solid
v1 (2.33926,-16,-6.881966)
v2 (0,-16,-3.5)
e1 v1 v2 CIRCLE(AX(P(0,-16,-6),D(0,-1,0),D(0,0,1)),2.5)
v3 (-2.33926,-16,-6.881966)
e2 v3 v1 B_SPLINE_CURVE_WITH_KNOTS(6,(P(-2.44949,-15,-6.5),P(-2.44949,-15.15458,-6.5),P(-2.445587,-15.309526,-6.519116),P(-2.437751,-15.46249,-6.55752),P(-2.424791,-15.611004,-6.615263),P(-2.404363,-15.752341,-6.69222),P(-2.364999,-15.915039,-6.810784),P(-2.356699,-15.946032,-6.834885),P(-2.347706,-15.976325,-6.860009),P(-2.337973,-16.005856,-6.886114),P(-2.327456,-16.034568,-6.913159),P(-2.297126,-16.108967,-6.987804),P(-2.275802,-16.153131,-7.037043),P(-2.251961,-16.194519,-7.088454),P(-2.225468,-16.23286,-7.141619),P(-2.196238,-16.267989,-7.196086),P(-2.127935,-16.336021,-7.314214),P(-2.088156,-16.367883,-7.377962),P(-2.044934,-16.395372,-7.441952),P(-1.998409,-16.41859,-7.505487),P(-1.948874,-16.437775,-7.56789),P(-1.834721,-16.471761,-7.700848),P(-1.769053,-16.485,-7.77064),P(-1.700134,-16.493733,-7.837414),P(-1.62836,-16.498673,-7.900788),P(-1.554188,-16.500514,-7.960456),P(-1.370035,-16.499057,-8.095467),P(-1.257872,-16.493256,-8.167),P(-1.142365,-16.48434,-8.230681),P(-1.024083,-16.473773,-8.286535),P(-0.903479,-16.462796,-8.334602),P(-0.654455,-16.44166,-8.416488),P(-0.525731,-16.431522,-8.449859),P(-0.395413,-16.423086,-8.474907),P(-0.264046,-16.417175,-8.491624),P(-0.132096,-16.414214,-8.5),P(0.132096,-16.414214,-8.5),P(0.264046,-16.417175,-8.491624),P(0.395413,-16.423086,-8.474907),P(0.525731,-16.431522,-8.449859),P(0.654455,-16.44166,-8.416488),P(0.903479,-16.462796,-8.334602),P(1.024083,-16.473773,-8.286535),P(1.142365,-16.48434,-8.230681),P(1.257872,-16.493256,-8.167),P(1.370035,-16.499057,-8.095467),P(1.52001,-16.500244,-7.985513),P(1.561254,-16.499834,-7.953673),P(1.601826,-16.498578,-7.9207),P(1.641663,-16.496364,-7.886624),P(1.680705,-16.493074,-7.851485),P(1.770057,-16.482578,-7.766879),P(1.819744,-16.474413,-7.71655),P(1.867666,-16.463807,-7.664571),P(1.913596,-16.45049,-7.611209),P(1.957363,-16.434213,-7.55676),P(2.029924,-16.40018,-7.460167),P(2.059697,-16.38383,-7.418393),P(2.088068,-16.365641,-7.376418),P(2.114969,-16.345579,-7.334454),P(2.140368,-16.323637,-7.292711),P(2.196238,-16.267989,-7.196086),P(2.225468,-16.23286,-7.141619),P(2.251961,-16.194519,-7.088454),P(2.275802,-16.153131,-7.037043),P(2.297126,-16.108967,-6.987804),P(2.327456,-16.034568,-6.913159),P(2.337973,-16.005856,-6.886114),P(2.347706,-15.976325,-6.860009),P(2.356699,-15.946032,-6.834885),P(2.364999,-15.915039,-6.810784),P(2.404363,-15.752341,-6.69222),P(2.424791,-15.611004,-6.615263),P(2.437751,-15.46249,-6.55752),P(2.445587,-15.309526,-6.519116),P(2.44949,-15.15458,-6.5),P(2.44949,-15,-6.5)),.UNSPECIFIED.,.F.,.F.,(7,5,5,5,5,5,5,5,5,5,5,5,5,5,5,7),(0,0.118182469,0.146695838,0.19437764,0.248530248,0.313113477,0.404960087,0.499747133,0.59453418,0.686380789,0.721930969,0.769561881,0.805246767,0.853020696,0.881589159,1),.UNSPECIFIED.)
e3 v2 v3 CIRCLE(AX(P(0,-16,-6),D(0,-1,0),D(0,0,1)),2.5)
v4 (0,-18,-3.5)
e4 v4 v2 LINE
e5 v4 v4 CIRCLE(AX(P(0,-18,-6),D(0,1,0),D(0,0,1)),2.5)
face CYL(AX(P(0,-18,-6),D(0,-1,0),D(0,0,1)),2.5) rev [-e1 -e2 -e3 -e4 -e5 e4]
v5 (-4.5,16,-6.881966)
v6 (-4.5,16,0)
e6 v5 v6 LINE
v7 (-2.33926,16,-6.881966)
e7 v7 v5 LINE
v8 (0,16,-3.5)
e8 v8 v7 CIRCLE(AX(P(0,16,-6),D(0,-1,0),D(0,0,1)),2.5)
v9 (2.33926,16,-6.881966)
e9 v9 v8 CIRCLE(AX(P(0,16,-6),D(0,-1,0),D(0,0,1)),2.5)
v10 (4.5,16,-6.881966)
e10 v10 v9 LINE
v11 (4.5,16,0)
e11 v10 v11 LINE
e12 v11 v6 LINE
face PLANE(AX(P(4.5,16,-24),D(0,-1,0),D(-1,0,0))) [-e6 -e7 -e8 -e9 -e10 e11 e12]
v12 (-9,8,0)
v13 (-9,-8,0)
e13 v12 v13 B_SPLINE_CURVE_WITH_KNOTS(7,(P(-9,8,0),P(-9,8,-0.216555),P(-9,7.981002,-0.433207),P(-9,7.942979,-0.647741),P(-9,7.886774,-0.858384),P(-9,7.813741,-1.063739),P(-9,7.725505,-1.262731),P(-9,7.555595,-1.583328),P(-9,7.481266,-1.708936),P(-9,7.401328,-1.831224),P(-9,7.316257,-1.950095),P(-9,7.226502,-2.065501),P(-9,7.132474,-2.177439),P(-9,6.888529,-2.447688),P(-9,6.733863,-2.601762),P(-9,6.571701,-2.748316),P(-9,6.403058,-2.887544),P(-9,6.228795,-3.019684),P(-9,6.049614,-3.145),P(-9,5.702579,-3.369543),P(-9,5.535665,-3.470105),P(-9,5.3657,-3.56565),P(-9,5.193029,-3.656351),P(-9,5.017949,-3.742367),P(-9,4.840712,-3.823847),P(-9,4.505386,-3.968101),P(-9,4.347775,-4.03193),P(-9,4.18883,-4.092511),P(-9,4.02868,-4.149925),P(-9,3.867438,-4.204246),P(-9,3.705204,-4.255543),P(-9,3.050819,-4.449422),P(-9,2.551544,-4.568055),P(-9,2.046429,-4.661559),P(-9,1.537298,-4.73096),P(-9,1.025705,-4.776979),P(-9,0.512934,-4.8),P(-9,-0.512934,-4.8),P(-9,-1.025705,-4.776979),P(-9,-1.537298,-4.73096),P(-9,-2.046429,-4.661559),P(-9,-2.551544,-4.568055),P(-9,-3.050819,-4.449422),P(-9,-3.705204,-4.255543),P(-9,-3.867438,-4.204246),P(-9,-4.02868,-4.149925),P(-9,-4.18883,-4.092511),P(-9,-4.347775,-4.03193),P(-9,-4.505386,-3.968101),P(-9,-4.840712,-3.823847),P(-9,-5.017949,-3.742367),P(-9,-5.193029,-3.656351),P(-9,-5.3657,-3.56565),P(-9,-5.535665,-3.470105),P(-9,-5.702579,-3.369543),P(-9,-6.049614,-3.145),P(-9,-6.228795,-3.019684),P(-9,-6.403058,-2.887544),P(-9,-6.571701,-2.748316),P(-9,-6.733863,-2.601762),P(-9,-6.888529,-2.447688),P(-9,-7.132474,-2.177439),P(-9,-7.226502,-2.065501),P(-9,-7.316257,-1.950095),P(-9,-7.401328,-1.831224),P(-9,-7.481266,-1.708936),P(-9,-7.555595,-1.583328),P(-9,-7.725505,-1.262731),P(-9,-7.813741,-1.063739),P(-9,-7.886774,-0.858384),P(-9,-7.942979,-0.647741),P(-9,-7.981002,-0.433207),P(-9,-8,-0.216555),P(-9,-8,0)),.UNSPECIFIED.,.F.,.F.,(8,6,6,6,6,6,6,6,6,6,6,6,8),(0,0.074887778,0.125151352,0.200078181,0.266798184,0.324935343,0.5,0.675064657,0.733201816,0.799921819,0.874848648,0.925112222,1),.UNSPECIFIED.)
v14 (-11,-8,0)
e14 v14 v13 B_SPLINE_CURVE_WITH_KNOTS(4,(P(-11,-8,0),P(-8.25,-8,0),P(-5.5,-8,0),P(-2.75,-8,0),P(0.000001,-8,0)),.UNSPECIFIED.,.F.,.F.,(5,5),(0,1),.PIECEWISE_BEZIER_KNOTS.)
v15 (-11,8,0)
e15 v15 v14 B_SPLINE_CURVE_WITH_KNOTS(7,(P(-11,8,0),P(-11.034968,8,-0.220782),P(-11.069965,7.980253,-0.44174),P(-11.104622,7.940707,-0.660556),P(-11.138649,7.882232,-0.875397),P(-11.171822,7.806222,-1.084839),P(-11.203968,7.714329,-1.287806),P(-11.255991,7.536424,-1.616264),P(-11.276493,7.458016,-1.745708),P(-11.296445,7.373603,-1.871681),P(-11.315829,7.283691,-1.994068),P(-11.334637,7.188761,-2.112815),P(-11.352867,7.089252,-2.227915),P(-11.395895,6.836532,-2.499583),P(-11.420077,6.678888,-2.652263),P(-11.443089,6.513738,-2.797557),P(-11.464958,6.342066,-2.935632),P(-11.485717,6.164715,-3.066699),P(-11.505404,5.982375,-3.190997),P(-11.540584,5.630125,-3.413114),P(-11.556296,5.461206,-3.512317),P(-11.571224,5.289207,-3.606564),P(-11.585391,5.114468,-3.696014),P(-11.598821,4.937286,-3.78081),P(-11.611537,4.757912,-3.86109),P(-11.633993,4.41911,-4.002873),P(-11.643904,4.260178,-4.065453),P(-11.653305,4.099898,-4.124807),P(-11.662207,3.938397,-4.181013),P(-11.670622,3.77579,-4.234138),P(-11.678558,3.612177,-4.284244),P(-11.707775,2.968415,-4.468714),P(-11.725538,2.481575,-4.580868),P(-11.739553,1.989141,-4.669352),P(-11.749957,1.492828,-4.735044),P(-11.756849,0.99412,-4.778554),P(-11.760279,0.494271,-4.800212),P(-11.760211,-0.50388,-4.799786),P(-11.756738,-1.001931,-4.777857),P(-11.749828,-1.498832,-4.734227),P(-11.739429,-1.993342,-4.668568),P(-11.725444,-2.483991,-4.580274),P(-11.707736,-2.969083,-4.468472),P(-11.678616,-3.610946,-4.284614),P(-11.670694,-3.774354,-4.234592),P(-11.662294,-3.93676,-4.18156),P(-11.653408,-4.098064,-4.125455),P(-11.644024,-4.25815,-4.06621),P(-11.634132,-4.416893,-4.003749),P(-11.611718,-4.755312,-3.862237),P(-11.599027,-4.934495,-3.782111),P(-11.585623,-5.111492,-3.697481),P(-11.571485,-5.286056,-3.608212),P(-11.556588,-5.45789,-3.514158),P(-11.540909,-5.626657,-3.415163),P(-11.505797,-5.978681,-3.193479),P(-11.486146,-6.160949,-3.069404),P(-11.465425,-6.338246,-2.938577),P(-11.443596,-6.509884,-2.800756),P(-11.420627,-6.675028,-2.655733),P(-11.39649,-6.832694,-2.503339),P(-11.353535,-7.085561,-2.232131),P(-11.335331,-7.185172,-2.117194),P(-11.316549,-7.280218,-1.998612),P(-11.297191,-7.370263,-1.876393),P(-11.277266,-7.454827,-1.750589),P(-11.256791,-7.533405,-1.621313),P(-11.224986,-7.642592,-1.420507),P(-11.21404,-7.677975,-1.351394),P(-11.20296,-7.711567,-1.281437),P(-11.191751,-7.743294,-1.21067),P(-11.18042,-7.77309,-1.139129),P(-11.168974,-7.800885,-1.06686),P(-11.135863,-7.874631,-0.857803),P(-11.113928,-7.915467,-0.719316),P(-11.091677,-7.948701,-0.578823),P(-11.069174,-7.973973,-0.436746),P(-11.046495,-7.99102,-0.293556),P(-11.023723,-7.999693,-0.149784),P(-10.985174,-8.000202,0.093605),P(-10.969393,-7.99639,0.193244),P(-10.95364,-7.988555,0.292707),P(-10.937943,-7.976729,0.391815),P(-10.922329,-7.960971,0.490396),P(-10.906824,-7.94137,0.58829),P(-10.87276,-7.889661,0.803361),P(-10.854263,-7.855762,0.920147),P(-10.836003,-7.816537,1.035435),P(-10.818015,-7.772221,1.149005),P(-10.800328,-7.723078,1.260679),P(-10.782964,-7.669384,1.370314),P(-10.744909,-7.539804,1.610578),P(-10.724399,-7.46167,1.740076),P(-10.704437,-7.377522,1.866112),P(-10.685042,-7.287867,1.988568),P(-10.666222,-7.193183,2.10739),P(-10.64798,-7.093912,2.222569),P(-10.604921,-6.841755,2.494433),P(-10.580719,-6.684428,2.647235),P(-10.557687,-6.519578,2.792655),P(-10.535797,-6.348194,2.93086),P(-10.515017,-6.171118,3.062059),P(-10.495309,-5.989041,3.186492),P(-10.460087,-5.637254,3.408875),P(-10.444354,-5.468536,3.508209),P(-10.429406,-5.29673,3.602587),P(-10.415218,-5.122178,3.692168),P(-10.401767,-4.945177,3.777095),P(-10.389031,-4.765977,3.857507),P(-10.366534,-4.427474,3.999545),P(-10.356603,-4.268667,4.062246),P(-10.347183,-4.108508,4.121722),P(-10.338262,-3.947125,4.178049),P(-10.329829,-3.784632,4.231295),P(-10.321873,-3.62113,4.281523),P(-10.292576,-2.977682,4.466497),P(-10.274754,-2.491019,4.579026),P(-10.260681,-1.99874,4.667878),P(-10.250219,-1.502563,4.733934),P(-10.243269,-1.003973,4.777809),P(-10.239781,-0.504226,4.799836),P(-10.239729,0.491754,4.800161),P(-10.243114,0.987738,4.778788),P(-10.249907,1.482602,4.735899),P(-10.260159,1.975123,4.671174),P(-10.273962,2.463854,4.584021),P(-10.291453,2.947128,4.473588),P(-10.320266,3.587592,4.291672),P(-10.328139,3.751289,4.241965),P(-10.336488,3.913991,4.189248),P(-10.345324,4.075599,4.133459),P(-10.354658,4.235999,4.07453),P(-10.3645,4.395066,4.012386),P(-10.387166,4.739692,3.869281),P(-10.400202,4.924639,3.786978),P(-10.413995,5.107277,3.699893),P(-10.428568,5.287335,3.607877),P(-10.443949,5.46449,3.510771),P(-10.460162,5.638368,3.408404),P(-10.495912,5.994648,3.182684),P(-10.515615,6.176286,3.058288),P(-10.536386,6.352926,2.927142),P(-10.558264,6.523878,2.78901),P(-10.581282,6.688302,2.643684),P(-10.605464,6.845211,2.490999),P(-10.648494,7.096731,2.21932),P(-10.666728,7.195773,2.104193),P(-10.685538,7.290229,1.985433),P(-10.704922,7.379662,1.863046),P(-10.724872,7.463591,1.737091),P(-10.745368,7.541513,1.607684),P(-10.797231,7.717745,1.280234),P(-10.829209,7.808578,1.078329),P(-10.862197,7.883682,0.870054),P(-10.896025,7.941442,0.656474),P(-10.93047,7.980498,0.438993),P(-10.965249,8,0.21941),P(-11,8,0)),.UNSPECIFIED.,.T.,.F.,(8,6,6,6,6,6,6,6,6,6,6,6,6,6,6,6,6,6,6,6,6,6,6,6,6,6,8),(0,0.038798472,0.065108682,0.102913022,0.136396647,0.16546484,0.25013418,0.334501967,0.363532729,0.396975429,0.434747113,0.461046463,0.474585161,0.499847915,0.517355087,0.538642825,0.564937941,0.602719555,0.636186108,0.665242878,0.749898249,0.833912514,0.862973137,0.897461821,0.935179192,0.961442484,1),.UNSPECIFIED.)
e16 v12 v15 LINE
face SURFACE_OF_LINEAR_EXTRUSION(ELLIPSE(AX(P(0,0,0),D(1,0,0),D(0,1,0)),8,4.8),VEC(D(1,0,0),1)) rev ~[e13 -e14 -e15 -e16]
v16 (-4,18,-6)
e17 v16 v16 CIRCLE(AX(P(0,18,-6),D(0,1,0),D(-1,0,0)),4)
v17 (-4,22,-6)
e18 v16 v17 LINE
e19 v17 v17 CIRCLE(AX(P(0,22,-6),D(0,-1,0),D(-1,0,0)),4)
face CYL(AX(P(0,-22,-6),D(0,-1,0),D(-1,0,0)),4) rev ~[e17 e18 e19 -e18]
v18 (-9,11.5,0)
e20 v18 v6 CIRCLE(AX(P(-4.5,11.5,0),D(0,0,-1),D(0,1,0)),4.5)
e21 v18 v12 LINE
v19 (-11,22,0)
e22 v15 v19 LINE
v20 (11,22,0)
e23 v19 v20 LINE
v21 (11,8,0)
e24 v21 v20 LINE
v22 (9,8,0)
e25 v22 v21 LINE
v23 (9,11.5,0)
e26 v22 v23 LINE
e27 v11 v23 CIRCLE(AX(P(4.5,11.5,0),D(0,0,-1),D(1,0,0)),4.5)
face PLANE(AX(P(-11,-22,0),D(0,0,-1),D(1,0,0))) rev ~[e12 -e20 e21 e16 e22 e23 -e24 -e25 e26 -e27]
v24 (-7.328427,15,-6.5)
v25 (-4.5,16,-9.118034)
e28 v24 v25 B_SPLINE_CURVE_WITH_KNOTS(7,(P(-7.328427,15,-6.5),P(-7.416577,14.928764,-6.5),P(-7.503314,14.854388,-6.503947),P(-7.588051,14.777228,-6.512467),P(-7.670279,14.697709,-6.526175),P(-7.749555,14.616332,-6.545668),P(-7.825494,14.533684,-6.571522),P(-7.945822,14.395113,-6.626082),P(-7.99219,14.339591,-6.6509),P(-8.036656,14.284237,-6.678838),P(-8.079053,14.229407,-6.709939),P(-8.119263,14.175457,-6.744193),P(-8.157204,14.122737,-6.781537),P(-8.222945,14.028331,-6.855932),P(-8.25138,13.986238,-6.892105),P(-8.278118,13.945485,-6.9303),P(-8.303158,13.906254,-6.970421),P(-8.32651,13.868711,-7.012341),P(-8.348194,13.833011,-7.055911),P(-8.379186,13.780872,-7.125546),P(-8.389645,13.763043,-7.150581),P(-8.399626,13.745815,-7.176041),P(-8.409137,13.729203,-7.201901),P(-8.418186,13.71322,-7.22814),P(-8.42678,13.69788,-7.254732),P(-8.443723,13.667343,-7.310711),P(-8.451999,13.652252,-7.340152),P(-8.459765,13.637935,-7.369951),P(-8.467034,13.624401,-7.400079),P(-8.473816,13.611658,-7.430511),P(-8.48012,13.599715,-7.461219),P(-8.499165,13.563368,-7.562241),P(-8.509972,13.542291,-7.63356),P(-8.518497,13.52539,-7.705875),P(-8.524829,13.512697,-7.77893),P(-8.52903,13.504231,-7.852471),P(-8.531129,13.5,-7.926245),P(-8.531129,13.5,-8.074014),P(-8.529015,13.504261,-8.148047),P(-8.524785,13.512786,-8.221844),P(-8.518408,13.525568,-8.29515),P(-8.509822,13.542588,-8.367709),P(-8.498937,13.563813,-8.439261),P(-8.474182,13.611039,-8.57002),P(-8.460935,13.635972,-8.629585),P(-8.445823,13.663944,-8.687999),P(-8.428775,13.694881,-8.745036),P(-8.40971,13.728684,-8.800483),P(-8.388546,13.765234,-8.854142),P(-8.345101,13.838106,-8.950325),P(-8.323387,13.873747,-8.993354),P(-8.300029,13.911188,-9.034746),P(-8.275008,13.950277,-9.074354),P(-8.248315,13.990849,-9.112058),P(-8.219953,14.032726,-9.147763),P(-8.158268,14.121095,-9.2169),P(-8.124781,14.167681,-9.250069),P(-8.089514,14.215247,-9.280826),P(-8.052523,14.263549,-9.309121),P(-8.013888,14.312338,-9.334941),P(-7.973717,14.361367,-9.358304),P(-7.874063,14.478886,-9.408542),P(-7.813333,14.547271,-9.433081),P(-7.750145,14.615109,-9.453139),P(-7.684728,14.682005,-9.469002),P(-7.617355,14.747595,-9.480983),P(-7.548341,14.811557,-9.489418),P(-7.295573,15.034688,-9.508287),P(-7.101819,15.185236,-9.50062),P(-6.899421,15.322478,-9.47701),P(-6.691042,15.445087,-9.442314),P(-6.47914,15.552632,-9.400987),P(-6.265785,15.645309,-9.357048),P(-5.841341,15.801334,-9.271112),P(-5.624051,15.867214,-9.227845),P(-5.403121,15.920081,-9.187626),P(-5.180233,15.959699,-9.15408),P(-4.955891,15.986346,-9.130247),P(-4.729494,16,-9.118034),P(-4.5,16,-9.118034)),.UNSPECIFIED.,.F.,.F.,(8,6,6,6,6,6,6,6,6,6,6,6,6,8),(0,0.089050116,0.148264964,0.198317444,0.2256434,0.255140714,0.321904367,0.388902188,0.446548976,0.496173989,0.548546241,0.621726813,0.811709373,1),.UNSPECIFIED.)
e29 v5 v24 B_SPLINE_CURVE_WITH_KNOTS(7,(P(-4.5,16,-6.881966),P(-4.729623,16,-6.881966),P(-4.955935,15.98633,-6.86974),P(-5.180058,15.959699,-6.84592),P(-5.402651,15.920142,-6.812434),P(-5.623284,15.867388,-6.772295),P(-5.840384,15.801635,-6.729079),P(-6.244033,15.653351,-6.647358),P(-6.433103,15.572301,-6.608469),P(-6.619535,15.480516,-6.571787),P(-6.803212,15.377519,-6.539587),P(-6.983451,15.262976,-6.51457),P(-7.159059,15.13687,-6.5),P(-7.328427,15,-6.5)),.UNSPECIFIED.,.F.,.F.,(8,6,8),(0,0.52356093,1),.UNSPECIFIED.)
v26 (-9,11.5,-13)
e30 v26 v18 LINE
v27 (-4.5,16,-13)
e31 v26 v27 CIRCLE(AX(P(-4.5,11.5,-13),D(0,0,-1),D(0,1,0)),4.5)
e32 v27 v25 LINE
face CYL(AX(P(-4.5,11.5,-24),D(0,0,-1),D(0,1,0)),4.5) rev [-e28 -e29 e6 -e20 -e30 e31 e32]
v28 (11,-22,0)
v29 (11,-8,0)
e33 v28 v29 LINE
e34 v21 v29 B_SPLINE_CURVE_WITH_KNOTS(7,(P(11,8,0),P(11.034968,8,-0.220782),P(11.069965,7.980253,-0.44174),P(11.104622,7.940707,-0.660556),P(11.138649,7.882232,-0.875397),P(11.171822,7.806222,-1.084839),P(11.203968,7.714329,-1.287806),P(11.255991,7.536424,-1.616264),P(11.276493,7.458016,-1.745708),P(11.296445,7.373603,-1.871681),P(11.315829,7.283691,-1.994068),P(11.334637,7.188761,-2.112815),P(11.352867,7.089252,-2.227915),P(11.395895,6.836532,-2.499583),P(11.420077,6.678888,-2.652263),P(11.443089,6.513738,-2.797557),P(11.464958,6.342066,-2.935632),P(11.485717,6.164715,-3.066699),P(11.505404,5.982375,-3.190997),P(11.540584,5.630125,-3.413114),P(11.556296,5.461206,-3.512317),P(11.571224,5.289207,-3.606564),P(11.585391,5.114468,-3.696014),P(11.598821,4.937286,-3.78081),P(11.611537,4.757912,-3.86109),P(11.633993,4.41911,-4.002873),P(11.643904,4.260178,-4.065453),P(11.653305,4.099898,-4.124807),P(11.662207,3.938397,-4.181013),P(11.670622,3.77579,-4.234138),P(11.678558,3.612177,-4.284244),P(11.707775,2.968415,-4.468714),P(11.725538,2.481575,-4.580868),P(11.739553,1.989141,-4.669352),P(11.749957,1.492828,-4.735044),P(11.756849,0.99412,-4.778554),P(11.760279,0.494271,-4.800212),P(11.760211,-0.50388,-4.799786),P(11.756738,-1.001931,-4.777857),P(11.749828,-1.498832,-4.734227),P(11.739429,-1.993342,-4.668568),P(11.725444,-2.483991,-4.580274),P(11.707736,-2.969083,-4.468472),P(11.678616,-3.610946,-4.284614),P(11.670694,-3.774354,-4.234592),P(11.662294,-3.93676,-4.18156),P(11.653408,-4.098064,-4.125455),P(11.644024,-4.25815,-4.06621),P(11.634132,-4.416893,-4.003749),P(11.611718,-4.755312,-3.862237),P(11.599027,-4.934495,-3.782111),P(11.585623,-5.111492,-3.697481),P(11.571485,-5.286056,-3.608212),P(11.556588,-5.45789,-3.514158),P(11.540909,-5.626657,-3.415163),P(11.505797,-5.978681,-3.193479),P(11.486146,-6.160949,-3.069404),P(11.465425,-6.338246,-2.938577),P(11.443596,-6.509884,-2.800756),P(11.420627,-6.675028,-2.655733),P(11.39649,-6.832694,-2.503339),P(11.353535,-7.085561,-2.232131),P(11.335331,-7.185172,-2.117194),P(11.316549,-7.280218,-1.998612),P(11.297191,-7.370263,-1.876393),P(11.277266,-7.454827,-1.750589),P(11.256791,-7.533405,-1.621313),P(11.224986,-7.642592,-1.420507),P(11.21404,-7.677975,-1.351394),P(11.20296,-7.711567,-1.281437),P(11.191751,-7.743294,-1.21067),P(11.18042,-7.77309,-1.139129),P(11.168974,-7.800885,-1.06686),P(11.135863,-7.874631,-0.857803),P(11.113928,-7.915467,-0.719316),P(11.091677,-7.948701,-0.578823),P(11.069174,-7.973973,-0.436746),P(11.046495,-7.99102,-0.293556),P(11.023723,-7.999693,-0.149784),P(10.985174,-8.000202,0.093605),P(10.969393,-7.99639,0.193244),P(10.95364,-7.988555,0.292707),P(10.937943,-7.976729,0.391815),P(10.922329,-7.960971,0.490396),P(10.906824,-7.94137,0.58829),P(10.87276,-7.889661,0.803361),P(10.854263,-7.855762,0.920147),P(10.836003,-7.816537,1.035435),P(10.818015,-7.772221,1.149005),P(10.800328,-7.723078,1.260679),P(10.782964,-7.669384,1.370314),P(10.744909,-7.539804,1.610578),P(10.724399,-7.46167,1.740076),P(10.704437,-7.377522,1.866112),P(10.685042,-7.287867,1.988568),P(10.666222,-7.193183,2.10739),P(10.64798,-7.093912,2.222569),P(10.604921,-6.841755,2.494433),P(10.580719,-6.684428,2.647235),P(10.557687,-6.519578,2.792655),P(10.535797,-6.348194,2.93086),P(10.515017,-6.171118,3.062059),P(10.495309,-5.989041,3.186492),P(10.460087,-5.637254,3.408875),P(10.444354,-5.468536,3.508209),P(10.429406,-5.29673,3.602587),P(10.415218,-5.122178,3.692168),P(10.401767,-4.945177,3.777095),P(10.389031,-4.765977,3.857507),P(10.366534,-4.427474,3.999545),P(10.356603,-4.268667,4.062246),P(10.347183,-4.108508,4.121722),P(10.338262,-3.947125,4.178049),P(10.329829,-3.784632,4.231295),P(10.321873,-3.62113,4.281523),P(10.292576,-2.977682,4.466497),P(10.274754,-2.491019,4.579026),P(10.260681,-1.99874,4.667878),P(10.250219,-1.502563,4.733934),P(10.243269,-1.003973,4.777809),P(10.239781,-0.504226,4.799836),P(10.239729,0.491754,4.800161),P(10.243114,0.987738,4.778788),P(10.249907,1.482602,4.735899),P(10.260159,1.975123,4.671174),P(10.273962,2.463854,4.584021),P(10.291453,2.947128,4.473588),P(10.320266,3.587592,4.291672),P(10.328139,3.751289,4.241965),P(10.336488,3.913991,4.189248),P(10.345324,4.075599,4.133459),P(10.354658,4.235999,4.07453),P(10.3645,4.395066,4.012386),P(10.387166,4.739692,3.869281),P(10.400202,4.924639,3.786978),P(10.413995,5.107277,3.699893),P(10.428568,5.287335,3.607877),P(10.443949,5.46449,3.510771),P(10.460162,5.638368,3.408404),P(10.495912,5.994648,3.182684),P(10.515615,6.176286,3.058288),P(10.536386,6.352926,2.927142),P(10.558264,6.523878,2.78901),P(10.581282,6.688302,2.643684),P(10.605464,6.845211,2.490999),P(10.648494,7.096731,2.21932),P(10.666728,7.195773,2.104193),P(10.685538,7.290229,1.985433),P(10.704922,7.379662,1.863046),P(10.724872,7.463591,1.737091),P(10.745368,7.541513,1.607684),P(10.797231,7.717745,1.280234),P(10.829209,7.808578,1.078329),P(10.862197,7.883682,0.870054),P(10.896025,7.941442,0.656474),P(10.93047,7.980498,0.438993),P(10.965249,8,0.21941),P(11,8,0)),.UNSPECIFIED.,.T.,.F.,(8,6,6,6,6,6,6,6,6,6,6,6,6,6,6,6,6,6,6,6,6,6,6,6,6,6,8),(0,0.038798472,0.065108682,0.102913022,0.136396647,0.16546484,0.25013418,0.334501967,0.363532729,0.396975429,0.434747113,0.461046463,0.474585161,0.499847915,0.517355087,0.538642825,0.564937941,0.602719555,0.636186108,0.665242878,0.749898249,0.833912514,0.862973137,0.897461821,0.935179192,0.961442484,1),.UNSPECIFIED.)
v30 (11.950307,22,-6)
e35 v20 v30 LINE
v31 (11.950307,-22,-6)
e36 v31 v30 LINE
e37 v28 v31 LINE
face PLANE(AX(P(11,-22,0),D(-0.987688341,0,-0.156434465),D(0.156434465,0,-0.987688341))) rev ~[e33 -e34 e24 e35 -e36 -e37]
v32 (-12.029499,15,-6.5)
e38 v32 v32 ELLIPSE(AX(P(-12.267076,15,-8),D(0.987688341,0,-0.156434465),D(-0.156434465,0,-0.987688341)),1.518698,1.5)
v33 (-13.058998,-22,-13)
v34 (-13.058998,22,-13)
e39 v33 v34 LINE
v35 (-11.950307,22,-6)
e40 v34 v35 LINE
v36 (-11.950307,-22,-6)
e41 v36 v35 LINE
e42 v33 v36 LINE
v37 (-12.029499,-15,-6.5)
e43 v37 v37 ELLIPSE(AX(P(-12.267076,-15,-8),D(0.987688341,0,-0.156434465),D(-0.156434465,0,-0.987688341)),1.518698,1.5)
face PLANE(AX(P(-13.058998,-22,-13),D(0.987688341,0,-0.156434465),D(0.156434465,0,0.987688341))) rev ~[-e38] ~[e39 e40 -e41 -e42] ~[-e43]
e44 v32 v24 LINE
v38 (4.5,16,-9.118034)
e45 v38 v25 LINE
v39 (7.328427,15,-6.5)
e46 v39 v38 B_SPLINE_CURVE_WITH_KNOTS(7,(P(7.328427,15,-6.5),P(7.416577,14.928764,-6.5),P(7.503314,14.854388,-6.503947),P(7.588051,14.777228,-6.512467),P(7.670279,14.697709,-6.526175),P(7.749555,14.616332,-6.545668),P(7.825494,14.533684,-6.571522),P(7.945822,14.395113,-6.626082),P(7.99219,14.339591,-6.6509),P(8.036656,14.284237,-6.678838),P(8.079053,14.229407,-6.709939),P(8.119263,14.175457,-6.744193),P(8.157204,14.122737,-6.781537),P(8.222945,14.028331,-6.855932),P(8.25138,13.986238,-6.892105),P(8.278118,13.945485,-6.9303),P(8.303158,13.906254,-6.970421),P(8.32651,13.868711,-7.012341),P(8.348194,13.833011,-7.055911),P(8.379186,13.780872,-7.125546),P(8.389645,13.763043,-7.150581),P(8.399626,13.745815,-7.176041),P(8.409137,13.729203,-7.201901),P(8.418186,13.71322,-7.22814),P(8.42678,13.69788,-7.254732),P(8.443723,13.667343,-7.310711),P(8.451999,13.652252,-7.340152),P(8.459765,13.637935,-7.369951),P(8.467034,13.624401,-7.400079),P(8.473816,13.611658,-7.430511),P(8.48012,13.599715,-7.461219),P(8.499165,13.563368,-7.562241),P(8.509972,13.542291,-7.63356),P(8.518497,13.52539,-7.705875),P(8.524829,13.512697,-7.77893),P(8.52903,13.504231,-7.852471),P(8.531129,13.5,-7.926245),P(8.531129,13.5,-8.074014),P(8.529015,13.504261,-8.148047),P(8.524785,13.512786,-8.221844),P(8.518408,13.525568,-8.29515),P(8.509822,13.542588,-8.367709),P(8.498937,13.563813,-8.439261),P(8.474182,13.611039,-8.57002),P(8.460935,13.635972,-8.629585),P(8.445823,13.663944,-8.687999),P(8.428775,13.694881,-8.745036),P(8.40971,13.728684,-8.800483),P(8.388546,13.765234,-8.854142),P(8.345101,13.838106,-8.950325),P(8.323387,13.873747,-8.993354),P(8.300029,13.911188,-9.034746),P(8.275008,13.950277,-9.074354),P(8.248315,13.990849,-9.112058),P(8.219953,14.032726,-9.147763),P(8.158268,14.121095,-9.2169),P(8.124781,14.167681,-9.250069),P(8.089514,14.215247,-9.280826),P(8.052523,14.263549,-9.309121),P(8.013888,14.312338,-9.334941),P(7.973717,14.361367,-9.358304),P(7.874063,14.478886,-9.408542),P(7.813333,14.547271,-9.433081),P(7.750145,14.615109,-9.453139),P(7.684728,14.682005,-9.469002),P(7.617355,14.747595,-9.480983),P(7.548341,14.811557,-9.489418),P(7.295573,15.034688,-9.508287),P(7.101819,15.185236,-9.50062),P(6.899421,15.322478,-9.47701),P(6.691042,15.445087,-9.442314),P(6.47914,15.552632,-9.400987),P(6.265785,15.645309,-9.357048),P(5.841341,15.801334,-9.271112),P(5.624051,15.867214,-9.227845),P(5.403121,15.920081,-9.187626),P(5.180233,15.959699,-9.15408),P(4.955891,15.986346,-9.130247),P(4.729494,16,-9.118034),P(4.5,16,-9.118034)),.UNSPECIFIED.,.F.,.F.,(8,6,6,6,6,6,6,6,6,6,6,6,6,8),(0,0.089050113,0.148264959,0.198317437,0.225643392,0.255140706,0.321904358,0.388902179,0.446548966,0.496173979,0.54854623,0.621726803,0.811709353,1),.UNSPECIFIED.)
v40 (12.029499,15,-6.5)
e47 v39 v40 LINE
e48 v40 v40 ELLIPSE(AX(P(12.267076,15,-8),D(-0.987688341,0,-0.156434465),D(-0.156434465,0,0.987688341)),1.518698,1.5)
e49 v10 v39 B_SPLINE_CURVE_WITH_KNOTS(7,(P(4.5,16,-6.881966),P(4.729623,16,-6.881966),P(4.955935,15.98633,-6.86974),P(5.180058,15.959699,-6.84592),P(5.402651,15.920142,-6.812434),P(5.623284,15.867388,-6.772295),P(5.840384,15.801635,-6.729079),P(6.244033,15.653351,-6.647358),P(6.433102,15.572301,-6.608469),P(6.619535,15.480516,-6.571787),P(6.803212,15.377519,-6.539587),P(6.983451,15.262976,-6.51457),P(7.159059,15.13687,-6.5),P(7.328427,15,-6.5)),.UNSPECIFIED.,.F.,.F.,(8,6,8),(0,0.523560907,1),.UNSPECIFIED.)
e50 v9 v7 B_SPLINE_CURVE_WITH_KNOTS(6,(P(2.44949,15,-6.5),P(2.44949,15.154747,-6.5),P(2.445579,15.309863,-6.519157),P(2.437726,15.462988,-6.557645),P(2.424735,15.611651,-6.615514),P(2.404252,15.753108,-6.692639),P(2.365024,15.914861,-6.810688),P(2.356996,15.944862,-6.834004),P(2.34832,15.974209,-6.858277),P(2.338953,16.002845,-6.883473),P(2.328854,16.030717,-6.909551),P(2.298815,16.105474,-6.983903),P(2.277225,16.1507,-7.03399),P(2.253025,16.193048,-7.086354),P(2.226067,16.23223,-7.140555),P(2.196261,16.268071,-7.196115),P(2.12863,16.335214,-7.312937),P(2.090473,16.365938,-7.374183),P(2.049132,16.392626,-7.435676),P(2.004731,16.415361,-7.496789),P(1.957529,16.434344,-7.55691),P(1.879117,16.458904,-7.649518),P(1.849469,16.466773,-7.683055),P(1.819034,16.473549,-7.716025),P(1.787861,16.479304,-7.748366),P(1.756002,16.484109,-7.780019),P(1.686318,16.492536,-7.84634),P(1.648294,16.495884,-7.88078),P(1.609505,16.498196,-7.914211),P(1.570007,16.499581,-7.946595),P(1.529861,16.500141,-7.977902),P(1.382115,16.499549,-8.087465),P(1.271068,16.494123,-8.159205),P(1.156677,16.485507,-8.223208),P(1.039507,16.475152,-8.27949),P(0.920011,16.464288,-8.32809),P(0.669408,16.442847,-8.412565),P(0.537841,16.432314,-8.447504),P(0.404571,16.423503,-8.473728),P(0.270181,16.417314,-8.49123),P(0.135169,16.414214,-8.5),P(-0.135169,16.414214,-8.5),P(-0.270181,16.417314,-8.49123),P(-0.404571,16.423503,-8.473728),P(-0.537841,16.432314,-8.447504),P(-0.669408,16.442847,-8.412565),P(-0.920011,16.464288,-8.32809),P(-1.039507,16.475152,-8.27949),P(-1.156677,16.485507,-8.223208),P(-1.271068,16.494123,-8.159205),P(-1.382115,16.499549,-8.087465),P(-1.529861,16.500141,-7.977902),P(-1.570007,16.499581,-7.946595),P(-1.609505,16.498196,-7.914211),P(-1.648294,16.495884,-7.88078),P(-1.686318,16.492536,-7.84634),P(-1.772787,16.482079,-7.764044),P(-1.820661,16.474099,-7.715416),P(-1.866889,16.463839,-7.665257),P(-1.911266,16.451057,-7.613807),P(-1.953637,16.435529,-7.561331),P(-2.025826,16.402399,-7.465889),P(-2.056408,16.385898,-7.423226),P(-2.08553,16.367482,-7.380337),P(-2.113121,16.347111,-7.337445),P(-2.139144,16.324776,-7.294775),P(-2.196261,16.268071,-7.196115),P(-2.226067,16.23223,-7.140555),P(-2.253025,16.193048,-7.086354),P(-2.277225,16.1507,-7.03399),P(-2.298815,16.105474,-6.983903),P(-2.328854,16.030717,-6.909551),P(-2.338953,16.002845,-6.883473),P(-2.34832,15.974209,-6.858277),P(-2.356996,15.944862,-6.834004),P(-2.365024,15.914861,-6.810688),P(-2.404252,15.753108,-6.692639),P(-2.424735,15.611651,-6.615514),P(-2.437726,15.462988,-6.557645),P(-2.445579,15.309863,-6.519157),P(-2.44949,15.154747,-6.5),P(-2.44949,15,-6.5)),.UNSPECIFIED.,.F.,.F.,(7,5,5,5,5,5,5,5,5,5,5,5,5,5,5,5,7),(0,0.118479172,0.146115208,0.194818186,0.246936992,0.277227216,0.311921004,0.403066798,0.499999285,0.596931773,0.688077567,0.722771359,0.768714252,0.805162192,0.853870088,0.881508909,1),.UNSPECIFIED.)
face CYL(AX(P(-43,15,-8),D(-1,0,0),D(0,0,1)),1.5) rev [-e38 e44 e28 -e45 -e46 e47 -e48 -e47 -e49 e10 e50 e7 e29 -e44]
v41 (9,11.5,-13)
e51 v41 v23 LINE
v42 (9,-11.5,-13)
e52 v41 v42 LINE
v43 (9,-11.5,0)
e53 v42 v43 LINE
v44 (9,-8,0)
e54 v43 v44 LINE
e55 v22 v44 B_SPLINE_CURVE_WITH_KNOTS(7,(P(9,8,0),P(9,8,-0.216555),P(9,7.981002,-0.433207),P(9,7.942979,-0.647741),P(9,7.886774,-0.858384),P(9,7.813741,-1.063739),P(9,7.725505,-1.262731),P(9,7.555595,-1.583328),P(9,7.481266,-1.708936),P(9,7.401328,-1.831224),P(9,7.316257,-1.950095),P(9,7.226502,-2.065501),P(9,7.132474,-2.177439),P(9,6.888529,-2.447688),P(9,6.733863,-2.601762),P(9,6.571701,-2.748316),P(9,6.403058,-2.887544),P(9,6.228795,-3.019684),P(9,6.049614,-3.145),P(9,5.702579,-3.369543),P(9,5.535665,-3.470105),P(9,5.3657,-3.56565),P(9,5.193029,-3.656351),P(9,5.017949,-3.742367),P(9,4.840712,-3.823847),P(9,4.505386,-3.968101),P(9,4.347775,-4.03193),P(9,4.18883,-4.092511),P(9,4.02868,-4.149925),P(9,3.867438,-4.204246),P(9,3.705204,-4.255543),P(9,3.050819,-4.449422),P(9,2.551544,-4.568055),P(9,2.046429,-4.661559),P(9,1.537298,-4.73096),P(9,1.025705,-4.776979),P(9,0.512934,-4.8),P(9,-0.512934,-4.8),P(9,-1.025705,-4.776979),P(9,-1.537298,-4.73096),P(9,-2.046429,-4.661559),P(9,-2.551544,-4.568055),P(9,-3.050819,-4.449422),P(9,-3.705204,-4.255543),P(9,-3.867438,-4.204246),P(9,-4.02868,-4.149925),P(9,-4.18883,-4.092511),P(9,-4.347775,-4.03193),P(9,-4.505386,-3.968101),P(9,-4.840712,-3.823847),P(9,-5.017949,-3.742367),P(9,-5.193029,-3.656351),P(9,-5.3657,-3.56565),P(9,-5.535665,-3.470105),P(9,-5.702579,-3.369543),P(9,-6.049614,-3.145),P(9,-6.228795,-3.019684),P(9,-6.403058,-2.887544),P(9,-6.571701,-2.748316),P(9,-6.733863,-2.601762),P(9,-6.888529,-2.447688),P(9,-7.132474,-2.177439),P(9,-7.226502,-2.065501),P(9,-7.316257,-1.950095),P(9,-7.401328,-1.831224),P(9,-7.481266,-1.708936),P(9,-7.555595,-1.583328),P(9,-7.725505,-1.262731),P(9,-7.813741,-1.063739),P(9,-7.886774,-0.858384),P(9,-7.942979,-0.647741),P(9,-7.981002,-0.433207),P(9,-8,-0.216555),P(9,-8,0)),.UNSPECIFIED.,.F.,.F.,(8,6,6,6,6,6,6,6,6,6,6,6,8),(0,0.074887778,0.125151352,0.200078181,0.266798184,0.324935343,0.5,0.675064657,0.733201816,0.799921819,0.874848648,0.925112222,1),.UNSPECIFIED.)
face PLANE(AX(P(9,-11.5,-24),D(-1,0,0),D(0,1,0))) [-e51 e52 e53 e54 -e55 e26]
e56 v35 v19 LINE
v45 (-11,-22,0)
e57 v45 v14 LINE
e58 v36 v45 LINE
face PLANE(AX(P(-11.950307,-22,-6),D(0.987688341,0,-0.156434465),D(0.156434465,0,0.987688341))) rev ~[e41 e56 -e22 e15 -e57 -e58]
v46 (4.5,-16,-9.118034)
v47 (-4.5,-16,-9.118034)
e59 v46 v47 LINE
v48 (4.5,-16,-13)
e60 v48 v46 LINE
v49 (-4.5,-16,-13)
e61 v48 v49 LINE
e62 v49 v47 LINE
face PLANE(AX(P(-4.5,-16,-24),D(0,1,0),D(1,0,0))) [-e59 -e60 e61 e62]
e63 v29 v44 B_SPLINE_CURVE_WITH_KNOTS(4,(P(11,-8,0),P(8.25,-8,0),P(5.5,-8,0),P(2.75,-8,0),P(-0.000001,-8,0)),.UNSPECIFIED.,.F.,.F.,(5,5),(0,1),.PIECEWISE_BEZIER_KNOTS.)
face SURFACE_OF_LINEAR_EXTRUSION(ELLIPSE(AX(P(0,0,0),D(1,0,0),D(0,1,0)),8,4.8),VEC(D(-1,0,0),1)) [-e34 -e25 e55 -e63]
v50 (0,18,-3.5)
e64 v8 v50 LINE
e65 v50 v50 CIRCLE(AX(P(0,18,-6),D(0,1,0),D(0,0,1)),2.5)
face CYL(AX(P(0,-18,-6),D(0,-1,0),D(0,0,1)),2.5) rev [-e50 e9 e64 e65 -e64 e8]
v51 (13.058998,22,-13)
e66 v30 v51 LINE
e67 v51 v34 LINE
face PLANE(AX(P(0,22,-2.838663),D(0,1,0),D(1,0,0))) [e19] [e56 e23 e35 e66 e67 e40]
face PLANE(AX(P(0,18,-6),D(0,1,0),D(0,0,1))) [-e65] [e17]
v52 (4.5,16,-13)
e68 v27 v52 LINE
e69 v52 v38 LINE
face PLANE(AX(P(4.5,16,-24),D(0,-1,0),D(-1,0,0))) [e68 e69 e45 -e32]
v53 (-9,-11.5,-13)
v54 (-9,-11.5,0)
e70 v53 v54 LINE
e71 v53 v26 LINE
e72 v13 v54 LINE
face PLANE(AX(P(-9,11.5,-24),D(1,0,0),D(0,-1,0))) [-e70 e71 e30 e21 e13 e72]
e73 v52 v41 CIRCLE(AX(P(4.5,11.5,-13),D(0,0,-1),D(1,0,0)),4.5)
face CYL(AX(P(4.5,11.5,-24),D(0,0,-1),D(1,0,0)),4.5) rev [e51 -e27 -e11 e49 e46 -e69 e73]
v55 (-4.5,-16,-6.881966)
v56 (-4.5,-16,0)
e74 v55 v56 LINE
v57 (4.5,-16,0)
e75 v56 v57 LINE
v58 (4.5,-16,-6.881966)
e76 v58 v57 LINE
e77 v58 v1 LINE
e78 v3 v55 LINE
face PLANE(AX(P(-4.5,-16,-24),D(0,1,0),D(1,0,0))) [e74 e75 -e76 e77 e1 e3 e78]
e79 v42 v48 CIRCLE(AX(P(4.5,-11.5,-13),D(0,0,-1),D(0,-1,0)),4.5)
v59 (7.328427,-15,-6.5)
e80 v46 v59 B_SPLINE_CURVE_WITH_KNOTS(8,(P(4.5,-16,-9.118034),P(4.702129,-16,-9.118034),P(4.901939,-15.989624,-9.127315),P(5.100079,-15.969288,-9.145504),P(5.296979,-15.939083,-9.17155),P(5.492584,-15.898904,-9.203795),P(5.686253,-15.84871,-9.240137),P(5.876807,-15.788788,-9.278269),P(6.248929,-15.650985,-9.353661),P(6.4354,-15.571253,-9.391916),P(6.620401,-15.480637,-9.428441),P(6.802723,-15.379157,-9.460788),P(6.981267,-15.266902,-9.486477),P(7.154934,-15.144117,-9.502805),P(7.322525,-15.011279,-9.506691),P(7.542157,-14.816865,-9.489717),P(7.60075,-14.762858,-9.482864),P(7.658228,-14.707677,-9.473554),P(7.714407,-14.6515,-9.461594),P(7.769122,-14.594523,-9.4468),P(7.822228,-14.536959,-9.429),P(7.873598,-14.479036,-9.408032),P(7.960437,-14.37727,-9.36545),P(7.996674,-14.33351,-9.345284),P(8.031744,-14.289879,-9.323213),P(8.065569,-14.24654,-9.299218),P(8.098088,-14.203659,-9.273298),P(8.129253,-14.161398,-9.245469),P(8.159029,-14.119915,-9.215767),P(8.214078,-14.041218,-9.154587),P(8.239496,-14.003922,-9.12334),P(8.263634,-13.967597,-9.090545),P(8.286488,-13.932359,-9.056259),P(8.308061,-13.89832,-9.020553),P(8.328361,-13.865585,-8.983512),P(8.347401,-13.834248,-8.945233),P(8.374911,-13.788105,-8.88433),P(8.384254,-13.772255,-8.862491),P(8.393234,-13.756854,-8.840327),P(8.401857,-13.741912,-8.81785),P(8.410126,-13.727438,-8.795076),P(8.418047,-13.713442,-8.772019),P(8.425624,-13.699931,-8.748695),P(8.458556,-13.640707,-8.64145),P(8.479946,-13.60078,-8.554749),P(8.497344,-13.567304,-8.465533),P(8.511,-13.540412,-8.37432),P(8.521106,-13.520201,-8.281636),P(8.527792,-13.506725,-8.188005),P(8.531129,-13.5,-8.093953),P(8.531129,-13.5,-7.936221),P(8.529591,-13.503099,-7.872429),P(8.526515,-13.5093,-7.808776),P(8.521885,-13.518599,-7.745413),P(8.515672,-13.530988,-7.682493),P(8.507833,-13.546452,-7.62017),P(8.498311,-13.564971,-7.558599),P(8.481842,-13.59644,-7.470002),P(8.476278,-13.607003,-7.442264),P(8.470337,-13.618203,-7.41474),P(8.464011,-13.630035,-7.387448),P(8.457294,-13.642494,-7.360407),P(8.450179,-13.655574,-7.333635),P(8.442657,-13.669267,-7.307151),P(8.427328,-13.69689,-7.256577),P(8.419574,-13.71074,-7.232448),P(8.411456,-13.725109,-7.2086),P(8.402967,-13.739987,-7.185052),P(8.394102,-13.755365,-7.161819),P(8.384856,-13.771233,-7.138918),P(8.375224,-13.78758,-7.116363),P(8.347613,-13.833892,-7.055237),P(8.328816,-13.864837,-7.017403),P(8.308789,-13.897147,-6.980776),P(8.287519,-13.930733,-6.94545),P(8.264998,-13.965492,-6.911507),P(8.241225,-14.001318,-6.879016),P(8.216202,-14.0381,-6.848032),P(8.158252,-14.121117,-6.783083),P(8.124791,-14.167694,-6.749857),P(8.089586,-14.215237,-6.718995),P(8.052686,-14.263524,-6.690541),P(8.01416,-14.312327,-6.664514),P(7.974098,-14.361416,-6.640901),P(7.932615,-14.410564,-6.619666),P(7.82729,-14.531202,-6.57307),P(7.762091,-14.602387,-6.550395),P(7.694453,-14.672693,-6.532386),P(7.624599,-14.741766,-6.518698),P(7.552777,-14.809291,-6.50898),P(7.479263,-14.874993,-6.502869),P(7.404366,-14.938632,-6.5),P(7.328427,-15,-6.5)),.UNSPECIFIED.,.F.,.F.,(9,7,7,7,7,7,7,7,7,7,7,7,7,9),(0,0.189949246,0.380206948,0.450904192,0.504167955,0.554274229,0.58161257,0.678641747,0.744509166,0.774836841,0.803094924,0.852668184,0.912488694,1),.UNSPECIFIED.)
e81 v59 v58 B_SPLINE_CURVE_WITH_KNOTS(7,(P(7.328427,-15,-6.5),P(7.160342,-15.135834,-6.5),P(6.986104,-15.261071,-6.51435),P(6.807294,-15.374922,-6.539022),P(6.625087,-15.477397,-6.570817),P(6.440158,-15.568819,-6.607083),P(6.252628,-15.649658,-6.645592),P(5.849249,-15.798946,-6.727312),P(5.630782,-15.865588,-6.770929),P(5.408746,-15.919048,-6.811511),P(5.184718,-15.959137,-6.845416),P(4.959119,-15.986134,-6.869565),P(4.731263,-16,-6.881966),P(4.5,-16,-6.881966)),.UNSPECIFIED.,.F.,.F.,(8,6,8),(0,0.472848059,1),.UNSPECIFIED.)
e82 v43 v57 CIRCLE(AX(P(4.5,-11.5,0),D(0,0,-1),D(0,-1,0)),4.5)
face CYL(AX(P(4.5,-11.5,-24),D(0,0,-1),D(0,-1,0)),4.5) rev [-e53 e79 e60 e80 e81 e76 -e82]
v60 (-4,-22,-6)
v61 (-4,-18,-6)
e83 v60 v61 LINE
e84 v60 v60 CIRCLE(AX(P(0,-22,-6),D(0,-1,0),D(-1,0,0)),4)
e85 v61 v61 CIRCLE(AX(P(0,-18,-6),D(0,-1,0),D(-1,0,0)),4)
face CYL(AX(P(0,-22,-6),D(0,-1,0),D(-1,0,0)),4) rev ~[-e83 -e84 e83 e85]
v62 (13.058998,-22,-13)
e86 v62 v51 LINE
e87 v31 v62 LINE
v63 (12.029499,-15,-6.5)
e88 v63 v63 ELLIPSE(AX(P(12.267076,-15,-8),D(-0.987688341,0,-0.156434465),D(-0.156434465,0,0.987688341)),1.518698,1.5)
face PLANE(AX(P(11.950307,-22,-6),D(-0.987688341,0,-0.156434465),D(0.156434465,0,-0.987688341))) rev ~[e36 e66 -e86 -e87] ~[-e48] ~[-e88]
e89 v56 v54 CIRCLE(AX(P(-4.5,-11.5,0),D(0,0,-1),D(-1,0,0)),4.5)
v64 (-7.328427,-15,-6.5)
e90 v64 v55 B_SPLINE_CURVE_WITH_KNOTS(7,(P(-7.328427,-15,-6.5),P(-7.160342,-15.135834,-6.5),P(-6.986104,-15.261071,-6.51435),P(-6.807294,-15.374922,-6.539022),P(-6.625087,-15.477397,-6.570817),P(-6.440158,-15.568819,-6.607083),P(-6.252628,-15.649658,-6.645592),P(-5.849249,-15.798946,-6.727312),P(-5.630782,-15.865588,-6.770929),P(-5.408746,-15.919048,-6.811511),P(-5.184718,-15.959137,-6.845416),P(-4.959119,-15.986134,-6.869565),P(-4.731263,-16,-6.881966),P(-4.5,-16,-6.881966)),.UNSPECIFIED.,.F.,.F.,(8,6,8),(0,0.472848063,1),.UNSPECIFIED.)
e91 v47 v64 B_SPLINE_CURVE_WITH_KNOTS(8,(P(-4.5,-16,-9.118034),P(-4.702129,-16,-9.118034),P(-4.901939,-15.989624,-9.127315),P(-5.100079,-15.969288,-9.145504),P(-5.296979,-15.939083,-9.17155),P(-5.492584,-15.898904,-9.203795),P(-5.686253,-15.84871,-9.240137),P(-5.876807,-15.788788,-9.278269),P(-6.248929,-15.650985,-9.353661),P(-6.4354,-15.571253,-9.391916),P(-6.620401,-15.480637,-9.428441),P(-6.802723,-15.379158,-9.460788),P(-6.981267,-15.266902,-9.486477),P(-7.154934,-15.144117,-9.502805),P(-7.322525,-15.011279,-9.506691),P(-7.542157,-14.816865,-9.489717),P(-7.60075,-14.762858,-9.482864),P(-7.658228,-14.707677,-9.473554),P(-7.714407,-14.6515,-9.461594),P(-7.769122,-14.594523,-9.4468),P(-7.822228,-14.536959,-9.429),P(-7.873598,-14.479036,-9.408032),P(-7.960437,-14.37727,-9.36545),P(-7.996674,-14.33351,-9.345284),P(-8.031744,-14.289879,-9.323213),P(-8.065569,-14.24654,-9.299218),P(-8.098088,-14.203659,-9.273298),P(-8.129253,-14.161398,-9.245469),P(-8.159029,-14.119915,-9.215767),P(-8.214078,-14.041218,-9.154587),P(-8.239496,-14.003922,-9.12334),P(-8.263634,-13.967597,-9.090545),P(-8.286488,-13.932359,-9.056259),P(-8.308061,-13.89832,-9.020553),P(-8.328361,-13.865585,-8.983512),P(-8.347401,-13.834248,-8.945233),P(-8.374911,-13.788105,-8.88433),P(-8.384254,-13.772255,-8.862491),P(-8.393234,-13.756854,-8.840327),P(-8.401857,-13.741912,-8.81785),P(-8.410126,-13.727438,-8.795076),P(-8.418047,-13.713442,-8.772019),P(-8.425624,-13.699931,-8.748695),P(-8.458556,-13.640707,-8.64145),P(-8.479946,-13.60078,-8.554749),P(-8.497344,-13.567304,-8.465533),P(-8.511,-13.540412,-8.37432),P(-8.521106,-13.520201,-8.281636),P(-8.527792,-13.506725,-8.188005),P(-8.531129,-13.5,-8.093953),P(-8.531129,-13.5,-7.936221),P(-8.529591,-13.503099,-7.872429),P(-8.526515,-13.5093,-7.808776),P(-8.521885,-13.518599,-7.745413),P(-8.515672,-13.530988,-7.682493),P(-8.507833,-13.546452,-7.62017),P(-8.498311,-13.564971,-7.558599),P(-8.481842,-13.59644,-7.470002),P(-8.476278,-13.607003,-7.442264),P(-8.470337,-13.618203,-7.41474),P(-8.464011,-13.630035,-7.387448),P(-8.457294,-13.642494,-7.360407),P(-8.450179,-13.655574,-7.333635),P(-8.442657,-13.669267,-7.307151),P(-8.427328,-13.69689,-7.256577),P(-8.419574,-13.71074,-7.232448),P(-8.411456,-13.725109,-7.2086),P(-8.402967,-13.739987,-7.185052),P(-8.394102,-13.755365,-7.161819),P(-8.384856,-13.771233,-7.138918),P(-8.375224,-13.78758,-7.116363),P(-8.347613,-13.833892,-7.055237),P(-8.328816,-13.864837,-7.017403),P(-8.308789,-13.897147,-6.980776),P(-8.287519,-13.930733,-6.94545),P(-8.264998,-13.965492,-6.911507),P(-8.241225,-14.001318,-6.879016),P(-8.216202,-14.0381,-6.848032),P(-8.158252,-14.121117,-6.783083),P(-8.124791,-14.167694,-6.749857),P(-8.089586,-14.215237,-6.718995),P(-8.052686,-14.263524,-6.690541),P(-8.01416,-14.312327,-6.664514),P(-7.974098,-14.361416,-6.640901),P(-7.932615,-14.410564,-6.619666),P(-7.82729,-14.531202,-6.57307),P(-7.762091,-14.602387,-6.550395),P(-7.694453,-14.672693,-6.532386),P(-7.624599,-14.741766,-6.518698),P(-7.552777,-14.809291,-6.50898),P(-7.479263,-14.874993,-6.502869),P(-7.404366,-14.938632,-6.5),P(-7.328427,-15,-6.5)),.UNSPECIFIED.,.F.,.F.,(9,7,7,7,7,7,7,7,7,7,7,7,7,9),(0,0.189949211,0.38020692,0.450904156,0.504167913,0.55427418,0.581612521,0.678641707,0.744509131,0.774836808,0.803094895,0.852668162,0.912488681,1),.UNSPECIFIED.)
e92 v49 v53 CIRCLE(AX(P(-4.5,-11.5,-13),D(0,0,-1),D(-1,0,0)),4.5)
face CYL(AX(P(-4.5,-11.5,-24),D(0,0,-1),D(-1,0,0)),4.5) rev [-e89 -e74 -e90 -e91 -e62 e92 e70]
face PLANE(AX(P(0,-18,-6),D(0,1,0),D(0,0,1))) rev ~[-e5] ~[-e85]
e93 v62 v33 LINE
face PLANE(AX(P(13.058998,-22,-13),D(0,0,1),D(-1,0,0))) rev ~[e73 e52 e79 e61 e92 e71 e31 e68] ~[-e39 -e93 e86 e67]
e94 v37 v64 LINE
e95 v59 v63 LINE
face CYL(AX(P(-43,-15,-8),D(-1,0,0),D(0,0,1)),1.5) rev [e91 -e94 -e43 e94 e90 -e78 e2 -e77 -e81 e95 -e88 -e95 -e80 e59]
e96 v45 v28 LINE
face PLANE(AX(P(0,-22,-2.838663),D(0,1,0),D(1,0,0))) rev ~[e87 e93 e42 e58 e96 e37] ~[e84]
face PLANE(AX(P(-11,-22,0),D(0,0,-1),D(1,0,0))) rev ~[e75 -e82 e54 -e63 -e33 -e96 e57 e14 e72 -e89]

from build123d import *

# Parameters (mm, degrees)
BOSS_EXTRUDE1_DEPTH            = 22
BOSS_EXTRUDE1_DEPTH_BACK       = 22
BOSS_EXTRUDE3_DEPTH            = 18
BOSS_EXTRUDE3_DEPTH_BACK       = 18
SKETCH5_R                      = 4
SKETCH5_R_2                    = 2.5
CUT_EXTRUDE1_DEPTH             = 43
CUT_EXTRUDE1_DEPTH_BACK        = 43
SKETCH3_R                      = 1.5
CUT_EXTRUDE3_DEPTH             = 27
CUT_EXTRUDE3_DEPTH_BACK        = 24
CUT_EXTRUDE4_REACH             = 30.697
SKETCH7_RX                     = 8
SKETCH7_RY                     = 4.8
CUT_EXTRUDE4_DIRECTION_2_REACH = 30.697


with BuildPart() as part:
    # Sketch1 → Boss-Extrude1 (new, two sides: drawn at the far end of the back side and taken through both)
    with BuildSketch(Plane(origin=(0, 0, 0), x_dir=(1, 0, 0), z_dir=(0, 1, 0)).offset(-BOSS_EXTRUDE1_DEPTH_BACK)):
        with BuildLine():
            Line((-11.950306642, 6), (-11, 0))
            Line((-11, 0), (11, 0))
            Line((11, 0), (11.950306642, 6))
            Line((11.950306642, 6), (4, 6))
            ThreePointArc((4, 6), (0, 2), (-4, 6))
            Line((-4, 6), (-11.950306642, 6))
        make_face()
        with BuildLine():
            Line((-7.641307543, 10), (-11.950306642, 6))
            Line((-11.950306642, 6), (-4, 6))
            ThreePointArc((-4, 6), (0, 10), (4, 6))
            Line((4, 6), (11.950306642, 6))
            Line((11.950306642, 6), (7.641307543, 10))
            ThreePointArc((7.641307543, 10), (4.104557854, 12.223132826), (-1.7e-08, 13))
            ThreePointArc((-1.7e-08, 13), (-4.10455787, 12.223132819), (-7.641307543, 10))
        make_face()
        with BuildLine():
            Line((-13.058997724, 13), (-11.950306642, 6))
            Line((-11.950306642, 6), (-7.641307543, 10))
            ThreePointArc((-7.641307543, 10), (-4.10455787, 12.223132819), (-1.7e-08, 13))
            Line((-1.7e-08, 13), (-2.687473981, 13))
            Line((-2.687473981, 13), (-13.058997724, 13))
        make_face()
        with BuildLine():
            Line((7.641307543, 10), (11.950306642, 6))
            Line((11.950306642, 6), (13.058997724, 13))
            Line((13.058997724, 13), (2.687473981, 13))
            Line((2.687473981, 13), (-1.7e-08, 13))
            ThreePointArc((-1.7e-08, 13), (4.104557854, 12.223132826), (7.641307543, 10))
        make_face()
    extrude(amount=BOSS_EXTRUDE1_DEPTH + BOSS_EXTRUDE1_DEPTH_BACK)

    # Sketch5 → Boss-Extrude3 (add, two sides: drawn at the far end of the back side and taken through both)
    with BuildSketch(Plane(origin=(0, 0, 0), x_dir=(1, 0, 0), z_dir=(0, 1, 0)).offset(-BOSS_EXTRUDE3_DEPTH_BACK)):
        with Locations(Location((0, 6, 0), (0, 0, 270))):
            Circle(SKETCH5_R)
        with Locations(Location((0, 6, 0), (0, 0, 270))):
            Circle(SKETCH5_R_2, mode=Mode.SUBTRACT)
    extrude(amount=BOSS_EXTRUDE3_DEPTH + BOSS_EXTRUDE3_DEPTH_BACK)

    # Sketch3 → Cut-Extrude1 (cut, two sides: drawn at the far end of the back side and taken through both)
    with BuildSketch(Plane(origin=(0, 0, 0), x_dir=(0, 0, -1), z_dir=(1, 0, 0)).offset(-CUT_EXTRUDE1_DEPTH_BACK)):
        with Locations(Location((8, 15, 0), (0, 0, 180))):
            Circle(SKETCH3_R)
        with Locations(Location((8, -15, 0), (0, 0, 180))):
            Circle(SKETCH3_R)
    extrude(amount=CUT_EXTRUDE1_DEPTH + CUT_EXTRUDE1_DEPTH_BACK, mode=Mode.SUBTRACT)

    # Sketch6 → Cut-Extrude3 (cut, two sides: drawn at the far end of the back side and taken through both)
    with BuildSketch(Plane.XY.offset(-CUT_EXTRUDE3_DEPTH_BACK)):
        with BuildLine():
            ThreePointArc((-9, -11.5), (-7.681980515, -14.681980515), (-4.5, -16))
            Line((-4.5, -16), (4.5, -16))
            ThreePointArc((4.5, -16), (7.681980515, -14.681980515), (9, -11.5))
            Line((9, -11.5), (9, 11.5))
            ThreePointArc((9, 11.5), (7.681980515, 14.681980515), (4.5, 16))
            Line((4.5, 16), (-4.5, 16))
            ThreePointArc((-4.5, 16), (-7.681980515, 14.681980515), (-9, 11.5))
            Line((-9, 11.5), (-9, -11.5))
        make_face()
    extrude(amount=CUT_EXTRUDE3_DEPTH + CUT_EXTRUDE3_DEPTH_BACK, mode=Mode.SUBTRACT)

    # Cut-Extrude4: up to this plane
    cut_extrude4_end = Plane(origin=(-10.73081084, -22, 1.699593469), z_dir=(-0.9876883405951371, 0, 0.15643446504023473))
    # Sketch7 → Cut-Extrude4 (cut, up to the surface)
    with BuildSketch(Plane(origin=(0, 0, 0), x_dir=(0, 0, -1), z_dir=(1, 0, 0)), mode=Mode.PRIVATE) as cut_extrude4_sk1:
        with Locations(Location((0, 0), (0, 0, 90))):
            Ellipse(SKETCH7_RX, SKETCH7_RY)
    cut_extrude4_tool1 = split(extrude(cut_extrude4_sk1.sketch, amount=-CUT_EXTRUDE4_REACH, mode=Mode.PRIVATE), bisect_by=cut_extrude4_end, keep=Keep.BOTH, mode=Mode.PRIVATE)
    add(cut_extrude4_tool1.solids().sort_by_distance((0, 0, 0))[0], mode=Mode.SUBTRACT)

    # Cut-Extrude4 direction 2: up to this plane
    cut_extrude4_direction_2_end = Plane(origin=(10.73081084, -22, 1.699593469), z_dir=(-0.9876883405951371, 0, -0.15643446504023442))
    # Sketch7 → Cut-Extrude4 direction 2 (cut, up to the surface)
    with BuildSketch(Plane(origin=(0, 0, 0), x_dir=(0, 0, -1), z_dir=(1, 0, 0)), mode=Mode.PRIVATE) as cut_extrude4_direction_2_sk1:
        with Locations(Location((0, 0), (0, 0, 90))):
            Ellipse(SKETCH7_RX, SKETCH7_RY)
    cut_extrude4_direction_2_tool1 = split(extrude(cut_extrude4_direction_2_sk1.sketch, amount=CUT_EXTRUDE4_DIRECTION_2_REACH, mode=Mode.PRIVATE), bisect_by=cut_extrude4_direction_2_end, keep=Keep.BOTH, mode=Mode.PRIVATE)
    add(cut_extrude4_direction_2_tool1.solids().sort_by_distance((0, 0, 0))[0], mode=Mode.SUBTRACT)


solid = part.part
